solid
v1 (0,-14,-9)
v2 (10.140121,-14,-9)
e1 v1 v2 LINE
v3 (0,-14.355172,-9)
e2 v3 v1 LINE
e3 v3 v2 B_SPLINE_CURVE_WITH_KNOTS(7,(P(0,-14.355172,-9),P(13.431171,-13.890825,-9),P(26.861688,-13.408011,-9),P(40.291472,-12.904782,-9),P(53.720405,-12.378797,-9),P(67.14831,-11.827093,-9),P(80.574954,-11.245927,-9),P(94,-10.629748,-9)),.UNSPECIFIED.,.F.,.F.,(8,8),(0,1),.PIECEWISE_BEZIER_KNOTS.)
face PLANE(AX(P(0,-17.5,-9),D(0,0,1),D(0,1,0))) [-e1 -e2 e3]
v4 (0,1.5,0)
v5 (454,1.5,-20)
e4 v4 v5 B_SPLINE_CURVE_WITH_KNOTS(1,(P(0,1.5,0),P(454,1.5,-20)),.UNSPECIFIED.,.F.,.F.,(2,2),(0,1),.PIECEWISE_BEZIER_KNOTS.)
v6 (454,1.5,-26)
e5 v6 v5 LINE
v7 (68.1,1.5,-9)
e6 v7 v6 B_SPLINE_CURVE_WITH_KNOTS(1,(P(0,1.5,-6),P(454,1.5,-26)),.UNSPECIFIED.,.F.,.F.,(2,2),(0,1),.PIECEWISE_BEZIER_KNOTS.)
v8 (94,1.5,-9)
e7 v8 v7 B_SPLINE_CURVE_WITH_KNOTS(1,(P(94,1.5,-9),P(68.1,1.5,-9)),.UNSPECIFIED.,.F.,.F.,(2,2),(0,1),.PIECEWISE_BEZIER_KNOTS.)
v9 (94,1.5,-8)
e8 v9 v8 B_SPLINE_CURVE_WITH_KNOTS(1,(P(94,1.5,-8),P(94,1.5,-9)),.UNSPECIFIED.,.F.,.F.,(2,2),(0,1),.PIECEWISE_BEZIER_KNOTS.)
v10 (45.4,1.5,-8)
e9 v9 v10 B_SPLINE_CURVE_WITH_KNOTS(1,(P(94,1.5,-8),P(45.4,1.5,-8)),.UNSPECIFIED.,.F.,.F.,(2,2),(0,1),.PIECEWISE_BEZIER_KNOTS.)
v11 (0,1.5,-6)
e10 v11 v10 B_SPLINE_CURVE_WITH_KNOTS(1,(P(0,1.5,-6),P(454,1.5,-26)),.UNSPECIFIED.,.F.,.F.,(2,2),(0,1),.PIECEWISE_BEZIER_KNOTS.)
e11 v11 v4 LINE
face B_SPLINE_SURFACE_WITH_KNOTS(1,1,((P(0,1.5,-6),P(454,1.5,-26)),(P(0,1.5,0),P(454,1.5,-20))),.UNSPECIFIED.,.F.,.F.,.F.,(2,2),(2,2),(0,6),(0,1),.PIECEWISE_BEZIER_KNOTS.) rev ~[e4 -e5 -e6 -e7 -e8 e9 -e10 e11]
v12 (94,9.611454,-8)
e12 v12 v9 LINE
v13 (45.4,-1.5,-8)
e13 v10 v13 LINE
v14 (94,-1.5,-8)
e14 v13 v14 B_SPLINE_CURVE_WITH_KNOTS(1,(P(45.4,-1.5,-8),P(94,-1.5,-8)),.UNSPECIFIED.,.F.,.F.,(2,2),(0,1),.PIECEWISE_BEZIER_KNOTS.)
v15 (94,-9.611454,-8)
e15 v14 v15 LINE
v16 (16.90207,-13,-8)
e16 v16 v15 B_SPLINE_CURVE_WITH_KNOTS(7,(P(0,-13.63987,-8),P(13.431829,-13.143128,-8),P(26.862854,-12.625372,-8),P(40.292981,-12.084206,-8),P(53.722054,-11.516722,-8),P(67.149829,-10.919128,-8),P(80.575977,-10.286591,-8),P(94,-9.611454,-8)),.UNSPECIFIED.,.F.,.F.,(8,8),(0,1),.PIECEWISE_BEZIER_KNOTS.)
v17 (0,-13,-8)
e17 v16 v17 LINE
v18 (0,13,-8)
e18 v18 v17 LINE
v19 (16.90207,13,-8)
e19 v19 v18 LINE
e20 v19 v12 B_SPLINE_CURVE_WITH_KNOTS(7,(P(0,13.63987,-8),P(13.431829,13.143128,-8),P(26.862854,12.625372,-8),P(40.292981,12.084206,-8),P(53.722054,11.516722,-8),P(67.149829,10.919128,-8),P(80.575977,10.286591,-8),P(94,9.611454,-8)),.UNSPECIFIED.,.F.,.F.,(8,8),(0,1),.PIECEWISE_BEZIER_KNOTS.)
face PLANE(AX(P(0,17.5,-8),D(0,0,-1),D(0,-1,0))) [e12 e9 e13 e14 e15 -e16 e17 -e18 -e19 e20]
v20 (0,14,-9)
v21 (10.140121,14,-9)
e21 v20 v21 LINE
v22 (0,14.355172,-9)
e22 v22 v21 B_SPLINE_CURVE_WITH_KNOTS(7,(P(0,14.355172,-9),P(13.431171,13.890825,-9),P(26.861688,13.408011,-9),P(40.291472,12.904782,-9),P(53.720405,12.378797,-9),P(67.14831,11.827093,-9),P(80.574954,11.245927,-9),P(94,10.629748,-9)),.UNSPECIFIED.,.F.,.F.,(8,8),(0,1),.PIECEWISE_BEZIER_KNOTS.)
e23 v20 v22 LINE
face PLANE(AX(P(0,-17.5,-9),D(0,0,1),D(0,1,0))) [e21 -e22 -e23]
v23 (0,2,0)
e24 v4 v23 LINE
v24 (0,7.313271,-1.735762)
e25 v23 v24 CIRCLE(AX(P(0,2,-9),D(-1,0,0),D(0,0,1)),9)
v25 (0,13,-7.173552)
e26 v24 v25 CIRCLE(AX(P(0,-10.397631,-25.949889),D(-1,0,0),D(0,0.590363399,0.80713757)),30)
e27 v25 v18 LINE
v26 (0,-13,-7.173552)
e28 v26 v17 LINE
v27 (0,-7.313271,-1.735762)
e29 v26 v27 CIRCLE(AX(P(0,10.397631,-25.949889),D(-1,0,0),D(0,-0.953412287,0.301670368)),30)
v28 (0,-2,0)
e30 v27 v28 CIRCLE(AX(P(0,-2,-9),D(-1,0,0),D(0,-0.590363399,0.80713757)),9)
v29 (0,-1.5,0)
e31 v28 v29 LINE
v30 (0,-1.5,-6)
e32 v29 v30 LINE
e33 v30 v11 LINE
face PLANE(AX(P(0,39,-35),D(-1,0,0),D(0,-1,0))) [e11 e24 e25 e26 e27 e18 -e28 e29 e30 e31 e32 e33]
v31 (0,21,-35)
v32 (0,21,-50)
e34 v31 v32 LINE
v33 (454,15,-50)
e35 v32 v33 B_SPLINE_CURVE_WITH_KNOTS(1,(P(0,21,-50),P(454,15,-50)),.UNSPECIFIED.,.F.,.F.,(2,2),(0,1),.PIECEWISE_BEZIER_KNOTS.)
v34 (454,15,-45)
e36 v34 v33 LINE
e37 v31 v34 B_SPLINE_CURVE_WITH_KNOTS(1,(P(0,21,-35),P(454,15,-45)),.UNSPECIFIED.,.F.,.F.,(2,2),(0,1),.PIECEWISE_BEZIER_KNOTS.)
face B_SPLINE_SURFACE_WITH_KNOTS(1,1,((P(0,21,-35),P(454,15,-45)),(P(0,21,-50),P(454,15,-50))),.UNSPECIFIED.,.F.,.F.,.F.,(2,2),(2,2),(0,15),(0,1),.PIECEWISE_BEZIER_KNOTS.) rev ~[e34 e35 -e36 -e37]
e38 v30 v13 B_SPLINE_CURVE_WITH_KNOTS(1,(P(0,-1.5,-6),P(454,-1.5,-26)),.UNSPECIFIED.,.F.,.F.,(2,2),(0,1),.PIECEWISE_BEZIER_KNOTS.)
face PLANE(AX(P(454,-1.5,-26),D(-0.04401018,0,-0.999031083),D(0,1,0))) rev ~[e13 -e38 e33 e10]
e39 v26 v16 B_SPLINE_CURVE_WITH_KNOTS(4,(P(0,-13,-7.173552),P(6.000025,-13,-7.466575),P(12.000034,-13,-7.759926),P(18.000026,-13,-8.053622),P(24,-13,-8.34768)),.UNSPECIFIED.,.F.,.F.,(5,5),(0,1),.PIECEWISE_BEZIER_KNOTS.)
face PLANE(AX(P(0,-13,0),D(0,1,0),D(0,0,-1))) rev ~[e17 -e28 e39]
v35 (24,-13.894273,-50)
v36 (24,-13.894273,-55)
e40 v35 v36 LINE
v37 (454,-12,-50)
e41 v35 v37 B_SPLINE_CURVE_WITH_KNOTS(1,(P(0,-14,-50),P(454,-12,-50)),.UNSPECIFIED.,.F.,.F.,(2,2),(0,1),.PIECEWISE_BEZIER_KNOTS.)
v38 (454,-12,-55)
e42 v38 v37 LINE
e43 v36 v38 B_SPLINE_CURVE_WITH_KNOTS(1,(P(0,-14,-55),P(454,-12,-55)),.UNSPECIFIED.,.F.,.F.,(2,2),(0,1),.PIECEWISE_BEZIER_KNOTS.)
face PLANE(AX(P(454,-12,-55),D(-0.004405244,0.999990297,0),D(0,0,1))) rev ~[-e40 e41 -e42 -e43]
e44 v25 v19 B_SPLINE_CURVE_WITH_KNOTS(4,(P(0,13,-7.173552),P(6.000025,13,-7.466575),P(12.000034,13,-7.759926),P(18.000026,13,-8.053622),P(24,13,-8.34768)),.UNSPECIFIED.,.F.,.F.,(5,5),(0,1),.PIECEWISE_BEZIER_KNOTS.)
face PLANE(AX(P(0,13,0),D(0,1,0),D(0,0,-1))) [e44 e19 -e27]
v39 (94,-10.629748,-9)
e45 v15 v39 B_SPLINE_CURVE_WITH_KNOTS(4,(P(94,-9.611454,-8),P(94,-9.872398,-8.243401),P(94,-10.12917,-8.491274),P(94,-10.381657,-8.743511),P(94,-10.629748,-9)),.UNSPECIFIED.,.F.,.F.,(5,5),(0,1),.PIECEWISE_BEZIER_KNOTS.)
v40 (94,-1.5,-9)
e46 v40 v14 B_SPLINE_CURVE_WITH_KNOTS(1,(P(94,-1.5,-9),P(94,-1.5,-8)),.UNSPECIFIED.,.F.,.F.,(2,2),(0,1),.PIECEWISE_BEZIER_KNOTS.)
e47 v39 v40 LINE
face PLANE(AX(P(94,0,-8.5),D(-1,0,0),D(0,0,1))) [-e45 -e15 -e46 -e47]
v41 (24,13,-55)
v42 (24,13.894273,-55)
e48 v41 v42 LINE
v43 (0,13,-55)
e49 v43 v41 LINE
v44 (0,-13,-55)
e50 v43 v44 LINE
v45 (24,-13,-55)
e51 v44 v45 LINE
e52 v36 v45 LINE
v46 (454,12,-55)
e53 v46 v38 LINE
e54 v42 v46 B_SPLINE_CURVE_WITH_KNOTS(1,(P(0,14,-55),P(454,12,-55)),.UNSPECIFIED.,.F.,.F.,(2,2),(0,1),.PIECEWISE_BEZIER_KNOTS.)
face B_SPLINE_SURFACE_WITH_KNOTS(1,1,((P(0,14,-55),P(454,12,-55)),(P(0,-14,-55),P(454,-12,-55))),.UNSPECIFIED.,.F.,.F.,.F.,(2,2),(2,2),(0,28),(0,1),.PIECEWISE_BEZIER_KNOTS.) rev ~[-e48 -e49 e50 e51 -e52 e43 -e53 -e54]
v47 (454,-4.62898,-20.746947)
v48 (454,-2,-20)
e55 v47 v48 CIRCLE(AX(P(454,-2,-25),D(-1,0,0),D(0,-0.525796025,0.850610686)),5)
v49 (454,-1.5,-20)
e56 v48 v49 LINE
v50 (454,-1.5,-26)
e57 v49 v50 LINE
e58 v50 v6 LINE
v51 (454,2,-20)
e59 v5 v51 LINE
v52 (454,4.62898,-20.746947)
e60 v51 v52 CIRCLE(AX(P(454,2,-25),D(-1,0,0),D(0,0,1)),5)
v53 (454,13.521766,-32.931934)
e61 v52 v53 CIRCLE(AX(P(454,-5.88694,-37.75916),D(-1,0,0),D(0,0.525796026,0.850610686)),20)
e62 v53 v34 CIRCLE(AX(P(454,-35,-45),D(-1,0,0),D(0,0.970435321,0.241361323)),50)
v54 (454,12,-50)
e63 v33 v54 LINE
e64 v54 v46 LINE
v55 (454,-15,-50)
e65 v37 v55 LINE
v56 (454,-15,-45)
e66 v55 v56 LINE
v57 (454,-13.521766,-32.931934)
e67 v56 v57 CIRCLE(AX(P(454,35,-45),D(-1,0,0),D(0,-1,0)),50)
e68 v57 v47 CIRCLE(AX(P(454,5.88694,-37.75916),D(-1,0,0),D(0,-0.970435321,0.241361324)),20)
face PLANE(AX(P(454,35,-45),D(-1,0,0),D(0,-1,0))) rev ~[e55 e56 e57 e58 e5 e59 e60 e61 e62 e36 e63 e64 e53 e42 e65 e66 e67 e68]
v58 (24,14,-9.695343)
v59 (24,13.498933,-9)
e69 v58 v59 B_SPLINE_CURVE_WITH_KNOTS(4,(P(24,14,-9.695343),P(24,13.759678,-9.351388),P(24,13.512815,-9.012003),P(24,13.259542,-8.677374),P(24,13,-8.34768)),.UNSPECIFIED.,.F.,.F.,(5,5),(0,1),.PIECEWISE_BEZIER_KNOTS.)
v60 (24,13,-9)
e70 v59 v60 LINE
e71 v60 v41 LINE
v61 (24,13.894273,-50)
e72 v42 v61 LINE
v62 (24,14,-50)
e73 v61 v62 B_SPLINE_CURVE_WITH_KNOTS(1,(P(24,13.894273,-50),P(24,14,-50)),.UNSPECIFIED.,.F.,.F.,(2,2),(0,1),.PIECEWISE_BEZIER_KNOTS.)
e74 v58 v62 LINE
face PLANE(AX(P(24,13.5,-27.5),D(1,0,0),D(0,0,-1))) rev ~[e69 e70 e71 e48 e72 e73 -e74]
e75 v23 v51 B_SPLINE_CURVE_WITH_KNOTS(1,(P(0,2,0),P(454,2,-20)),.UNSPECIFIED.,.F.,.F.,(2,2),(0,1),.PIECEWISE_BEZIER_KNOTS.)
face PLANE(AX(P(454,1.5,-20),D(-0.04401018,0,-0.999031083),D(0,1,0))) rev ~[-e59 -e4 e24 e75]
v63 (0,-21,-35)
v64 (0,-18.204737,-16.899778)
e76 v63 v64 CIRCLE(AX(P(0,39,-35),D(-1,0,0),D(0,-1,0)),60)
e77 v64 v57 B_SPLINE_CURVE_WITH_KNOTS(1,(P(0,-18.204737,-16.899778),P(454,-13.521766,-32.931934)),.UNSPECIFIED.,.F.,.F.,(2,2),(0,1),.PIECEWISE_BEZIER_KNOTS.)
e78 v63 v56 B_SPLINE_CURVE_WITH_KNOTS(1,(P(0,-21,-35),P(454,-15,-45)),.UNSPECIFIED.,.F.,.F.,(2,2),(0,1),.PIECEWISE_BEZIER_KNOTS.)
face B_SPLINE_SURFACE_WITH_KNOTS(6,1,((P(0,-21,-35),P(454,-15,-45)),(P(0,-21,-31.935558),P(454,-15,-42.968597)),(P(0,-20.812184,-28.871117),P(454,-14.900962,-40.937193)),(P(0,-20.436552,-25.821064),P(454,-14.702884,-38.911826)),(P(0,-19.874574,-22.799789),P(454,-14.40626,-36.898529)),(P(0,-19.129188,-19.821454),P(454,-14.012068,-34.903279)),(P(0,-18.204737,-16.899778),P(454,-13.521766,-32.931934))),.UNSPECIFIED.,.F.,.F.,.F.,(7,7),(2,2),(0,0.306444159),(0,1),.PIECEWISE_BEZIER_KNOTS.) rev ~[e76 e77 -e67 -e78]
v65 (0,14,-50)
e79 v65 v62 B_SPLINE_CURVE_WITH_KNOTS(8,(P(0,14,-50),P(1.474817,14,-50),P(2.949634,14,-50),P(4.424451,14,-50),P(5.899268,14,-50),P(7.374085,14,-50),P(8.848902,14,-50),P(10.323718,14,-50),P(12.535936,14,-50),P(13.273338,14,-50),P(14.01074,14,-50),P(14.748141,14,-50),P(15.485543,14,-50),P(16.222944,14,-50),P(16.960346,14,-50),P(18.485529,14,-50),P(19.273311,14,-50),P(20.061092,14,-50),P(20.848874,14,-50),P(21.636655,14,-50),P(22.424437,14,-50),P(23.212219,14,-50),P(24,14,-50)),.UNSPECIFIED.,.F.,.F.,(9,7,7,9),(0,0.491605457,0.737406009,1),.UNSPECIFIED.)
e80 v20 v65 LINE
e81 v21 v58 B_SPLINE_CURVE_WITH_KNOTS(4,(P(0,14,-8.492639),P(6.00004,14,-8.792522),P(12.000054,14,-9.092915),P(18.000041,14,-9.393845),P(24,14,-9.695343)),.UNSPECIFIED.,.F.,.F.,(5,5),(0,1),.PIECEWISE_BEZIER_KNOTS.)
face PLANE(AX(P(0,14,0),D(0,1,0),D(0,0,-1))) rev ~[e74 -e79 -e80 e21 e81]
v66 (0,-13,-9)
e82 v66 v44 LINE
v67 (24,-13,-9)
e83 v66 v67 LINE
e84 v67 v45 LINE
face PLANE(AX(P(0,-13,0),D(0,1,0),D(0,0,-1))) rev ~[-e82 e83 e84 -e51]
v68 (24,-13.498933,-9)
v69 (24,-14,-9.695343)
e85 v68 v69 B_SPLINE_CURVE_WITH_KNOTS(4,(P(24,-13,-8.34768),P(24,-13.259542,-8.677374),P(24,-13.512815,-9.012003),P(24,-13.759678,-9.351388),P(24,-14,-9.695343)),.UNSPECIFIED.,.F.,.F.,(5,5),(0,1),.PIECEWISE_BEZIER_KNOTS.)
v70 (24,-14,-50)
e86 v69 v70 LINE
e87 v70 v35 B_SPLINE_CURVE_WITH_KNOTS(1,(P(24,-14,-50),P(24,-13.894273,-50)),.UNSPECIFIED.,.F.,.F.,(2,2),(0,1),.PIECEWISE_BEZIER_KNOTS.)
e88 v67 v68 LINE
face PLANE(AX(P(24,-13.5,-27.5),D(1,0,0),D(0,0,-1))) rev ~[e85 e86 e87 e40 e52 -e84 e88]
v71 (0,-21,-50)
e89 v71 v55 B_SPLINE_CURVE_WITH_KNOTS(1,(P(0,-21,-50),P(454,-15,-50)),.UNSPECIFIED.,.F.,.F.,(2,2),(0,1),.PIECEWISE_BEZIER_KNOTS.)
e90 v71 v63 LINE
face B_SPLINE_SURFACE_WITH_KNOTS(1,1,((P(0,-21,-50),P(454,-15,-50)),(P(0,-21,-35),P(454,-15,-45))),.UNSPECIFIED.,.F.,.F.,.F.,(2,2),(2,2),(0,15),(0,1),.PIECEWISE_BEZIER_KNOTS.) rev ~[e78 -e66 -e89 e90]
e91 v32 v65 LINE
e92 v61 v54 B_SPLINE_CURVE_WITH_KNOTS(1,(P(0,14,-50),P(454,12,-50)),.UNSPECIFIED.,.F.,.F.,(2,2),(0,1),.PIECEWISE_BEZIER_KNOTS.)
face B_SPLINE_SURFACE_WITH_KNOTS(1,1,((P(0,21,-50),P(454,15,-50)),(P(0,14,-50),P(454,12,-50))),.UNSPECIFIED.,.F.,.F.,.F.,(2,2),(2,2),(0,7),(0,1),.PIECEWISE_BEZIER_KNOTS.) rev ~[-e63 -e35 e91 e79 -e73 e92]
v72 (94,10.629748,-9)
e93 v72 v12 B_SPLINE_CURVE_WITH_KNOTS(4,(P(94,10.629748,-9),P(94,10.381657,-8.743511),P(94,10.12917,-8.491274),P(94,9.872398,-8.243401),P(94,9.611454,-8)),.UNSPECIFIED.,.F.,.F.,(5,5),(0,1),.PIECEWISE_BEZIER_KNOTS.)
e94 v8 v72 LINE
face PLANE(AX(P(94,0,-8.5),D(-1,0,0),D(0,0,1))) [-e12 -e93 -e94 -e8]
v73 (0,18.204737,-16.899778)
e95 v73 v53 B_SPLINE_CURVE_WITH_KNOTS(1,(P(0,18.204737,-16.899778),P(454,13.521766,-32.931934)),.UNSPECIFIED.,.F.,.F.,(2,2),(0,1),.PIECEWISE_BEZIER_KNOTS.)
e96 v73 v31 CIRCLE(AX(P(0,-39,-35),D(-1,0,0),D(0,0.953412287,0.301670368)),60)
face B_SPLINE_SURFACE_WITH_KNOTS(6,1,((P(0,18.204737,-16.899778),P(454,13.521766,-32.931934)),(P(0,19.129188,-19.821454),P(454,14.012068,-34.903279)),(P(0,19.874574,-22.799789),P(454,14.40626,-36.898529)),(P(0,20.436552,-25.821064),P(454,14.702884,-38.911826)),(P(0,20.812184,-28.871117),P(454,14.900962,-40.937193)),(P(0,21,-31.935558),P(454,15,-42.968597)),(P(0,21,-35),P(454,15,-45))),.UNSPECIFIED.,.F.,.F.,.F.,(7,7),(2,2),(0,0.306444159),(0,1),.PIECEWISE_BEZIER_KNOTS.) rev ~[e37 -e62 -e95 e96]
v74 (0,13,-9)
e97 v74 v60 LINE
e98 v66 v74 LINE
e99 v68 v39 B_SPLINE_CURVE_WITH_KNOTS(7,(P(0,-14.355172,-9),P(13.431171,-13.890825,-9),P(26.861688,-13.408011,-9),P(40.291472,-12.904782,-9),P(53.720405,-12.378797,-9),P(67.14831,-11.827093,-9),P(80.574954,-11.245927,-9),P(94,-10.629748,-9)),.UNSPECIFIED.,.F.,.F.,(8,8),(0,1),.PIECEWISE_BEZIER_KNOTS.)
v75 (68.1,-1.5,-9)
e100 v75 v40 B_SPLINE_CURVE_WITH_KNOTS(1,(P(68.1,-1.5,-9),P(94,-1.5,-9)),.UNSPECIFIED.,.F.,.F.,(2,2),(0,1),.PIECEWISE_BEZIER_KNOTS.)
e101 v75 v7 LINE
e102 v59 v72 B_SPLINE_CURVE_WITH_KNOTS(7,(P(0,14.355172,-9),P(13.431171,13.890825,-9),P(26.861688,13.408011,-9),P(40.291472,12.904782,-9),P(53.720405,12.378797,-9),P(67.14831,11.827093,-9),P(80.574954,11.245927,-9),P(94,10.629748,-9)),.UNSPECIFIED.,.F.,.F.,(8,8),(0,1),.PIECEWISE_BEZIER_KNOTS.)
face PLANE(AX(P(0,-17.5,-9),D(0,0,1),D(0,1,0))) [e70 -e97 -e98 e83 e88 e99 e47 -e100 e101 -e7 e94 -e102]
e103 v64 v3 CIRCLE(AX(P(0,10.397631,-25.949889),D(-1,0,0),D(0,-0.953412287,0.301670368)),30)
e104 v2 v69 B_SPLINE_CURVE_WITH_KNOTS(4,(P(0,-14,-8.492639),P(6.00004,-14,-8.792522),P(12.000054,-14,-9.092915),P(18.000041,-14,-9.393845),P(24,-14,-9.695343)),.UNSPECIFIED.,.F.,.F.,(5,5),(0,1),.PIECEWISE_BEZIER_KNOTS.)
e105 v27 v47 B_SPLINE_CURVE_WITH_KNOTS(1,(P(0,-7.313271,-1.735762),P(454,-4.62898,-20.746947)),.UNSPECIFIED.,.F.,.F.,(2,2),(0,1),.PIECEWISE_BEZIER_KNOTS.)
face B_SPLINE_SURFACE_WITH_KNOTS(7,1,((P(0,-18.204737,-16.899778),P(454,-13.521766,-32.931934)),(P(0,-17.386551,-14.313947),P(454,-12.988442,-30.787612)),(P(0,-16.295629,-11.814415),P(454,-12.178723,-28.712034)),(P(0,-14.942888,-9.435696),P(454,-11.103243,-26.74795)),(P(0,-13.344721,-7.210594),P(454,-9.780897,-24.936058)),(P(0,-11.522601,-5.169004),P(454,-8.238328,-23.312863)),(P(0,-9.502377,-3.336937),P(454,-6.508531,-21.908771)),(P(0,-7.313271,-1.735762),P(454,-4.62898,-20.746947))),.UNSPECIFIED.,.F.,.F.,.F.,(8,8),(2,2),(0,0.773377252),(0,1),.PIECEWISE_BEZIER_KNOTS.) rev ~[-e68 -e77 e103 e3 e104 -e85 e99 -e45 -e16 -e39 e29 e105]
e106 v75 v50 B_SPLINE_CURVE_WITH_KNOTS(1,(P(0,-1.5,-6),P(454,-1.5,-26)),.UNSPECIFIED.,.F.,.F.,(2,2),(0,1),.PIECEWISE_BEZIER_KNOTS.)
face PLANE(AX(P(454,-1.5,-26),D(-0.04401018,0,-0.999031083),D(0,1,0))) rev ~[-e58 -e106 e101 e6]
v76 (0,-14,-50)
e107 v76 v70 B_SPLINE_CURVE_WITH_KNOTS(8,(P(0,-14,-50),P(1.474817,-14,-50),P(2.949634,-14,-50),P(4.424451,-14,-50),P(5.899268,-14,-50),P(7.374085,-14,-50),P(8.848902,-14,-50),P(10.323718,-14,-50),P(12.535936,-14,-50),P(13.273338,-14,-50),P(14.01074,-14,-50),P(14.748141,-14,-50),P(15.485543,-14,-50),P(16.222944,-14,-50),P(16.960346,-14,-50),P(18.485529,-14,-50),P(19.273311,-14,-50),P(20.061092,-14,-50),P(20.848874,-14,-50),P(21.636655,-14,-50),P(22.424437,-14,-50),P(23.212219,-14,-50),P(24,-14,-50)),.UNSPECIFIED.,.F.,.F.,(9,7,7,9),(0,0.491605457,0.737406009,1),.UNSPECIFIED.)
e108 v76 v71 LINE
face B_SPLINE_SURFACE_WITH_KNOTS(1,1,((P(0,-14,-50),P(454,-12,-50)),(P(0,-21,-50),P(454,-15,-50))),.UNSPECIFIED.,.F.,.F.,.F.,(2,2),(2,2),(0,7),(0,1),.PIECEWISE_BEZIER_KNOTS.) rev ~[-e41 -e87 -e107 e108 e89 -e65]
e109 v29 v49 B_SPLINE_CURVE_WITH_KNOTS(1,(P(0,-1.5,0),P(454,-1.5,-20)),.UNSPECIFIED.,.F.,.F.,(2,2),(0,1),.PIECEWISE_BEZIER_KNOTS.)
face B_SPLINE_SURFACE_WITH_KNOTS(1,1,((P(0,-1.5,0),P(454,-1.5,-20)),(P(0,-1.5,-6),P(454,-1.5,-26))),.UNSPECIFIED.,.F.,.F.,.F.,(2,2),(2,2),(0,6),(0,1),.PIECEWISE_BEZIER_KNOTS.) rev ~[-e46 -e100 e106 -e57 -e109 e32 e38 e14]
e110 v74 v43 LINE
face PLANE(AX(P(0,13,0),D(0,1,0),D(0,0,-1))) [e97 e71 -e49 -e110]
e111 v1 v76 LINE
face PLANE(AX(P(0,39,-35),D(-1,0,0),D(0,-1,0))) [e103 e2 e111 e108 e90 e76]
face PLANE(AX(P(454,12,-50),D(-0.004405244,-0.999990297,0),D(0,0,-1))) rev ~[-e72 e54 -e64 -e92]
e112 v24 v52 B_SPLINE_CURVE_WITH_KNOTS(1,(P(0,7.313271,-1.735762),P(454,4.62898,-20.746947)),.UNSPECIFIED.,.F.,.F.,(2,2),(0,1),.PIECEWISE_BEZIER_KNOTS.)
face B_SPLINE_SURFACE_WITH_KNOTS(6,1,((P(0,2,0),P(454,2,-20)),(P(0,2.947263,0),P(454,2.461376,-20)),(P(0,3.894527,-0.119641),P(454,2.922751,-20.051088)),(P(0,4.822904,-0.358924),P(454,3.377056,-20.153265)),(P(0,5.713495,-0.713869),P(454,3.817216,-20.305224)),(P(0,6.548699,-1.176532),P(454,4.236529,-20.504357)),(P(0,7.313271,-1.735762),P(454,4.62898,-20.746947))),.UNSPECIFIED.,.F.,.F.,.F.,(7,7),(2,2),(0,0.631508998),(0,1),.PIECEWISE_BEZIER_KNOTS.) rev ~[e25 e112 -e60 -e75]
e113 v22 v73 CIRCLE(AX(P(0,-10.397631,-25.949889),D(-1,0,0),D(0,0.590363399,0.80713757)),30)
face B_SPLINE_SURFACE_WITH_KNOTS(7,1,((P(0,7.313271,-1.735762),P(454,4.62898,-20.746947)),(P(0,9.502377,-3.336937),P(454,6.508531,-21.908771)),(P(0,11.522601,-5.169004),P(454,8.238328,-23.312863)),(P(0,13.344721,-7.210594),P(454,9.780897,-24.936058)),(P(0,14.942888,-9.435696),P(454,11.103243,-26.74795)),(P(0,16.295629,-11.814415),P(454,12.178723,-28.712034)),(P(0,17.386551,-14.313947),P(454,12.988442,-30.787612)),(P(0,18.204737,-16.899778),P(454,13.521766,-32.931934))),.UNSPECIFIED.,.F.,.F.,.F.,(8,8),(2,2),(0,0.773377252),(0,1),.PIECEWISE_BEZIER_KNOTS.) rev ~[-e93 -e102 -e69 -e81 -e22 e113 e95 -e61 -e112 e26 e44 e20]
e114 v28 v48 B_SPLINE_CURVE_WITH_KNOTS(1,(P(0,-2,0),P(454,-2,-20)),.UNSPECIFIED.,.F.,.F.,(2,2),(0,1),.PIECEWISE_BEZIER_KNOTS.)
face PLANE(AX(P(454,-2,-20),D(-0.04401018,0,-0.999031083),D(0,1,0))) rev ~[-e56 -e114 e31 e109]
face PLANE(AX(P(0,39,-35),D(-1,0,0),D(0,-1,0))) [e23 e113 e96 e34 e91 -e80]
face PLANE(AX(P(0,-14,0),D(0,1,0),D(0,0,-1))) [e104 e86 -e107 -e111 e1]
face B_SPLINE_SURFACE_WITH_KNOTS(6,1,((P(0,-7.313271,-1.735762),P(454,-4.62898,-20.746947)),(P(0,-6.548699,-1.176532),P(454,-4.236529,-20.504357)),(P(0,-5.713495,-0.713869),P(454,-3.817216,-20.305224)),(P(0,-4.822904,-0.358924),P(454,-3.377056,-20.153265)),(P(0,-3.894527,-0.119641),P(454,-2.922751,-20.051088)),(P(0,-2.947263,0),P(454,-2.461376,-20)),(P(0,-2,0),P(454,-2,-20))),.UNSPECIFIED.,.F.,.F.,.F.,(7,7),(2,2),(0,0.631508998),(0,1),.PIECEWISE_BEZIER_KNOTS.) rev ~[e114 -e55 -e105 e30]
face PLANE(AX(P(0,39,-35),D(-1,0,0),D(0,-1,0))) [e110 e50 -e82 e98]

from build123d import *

# Parameters (mm, degrees)
SKETCH4_W          = 55
SKETCH4_H          = 1
CUT_EXTRUDE1_DEPTH = 24
CUT_EXTRUDE2_DEPTH = 94


with BuildPart() as part:
    # Sketch2 → Loft1 section 0
    with BuildSketch(Plane(origin=(0, 0, 0), x_dir=(0, 0, -1), z_dir=(1, 0, 0))):
        with BuildLine():
            Line((55, 14), (55, -14))
            Line((55, -14), (50, -14))
            Line((50, -14), (50, -21))
            Line((50, -21), (35, -21))
            ThreePointArc((35, -21), (25.842604999, -20.29706668), (16.899777934, -18.204737227))
            ThreePointArc((16.899777934, -18.204737227), (8.448934824, -13.968669196), (1.735761871, -7.313270594))
            ThreePointArc((1.735761871, -7.313270594), (0.444938833, -4.794803825), (0, -2))
            Line((0, -2), (0, -1.5))
            Line((0, -1.5), (6, -1.5))
            Line((6, -1.5), (6, 1.5))
            Line((6, 1.5), (0, 1.5))
            Line((0, 1.5), (0, 2))
            ThreePointArc((0, 2), (0.444938833, 4.794803825), (1.735761871, 7.313270594))
            ThreePointArc((1.735761871, 7.313270594), (8.448934824, 13.968669196), (16.899777934, 18.204737227))
            ThreePointArc((16.899777934, 18.204737227), (25.842604999, 20.29706668), (35, 21))
            Line((35, 21), (50, 21))
            Line((50, 21), (50, 14))
            Line((50, 14), (55, 14))
        make_face()
    # Sketch3 → Loft1 section 1
    with BuildSketch(Plane(origin=(454, 0, 0), x_dir=(0, 0, -1), z_dir=(1, 0, 0))):
        with BuildLine():
            Line((55, 12), (55, -12))
            Line((55, -12), (50, -12))
            Line((50, -12), (50, -15))
            Line((50, -15), (45, -15))
            ThreePointArc((45, -15), (38.920867725, -14.629065584), (32.931933824, -13.521766031))
            ThreePointArc((32.931933824, -13.521766031), (25.968880514, -10.268222963), (20.746946568, -4.628980127))
            ThreePointArc((20.746946568, -4.628980127), (20.190360348, -3.366516162), (20, -2))
            Line((20, -2), (20, -1.5))
            Line((20, -1.5), (26, -1.5))
            Line((26, -1.5), (26, 1.5))
            Line((26, 1.5), (20, 1.5))
            Line((20, 1.5), (20, 2))
            ThreePointArc((20, 2), (20.190360348, 3.366516162), (20.746946568, 4.628980127))
            ThreePointArc((20.746946568, 4.628980127), (25.968880514, 10.268222963), (32.931933824, 13.521766031))
            ThreePointArc((32.931933824, 13.521766031), (38.920867725, 14.629065584), (45, 15))
            Line((45, 15), (50, 15))
            Line((50, 15), (50, 12))
            Line((50, 12), (55, 12))
        make_face()
    loft()

    # Sketch4 → Cut-Extrude1 (cut)
    with BuildSketch(Plane(origin=(0, 0, 0), x_dir=(0, 0, -1), z_dir=(1, 0, 0))):
        with Locations((27.5, 13.5)):
            Rectangle(SKETCH4_W, SKETCH4_H)
        with Locations((27.5, -13.5)):
            Rectangle(SKETCH4_W, SKETCH4_H)
    extrude(amount=CUT_EXTRUDE1_DEPTH, mode=Mode.SUBTRACT)

    # Sketch5 → Cut-Extrude2 (cut)
    with BuildSketch(Plane(origin=(0, 0, 0), x_dir=(0, 0, -1), z_dir=(1, 0, 0))):
        Polygon((9, 13), (9, -13), (9, -17.5), (8, -17.5), (8, -13), (8, 13), (8, 17.5), (9, 17.5), align=None)
    extrude(amount=CUT_EXTRUDE2_DEPTH, mode=Mode.SUBTRACT)


solid = part.part
